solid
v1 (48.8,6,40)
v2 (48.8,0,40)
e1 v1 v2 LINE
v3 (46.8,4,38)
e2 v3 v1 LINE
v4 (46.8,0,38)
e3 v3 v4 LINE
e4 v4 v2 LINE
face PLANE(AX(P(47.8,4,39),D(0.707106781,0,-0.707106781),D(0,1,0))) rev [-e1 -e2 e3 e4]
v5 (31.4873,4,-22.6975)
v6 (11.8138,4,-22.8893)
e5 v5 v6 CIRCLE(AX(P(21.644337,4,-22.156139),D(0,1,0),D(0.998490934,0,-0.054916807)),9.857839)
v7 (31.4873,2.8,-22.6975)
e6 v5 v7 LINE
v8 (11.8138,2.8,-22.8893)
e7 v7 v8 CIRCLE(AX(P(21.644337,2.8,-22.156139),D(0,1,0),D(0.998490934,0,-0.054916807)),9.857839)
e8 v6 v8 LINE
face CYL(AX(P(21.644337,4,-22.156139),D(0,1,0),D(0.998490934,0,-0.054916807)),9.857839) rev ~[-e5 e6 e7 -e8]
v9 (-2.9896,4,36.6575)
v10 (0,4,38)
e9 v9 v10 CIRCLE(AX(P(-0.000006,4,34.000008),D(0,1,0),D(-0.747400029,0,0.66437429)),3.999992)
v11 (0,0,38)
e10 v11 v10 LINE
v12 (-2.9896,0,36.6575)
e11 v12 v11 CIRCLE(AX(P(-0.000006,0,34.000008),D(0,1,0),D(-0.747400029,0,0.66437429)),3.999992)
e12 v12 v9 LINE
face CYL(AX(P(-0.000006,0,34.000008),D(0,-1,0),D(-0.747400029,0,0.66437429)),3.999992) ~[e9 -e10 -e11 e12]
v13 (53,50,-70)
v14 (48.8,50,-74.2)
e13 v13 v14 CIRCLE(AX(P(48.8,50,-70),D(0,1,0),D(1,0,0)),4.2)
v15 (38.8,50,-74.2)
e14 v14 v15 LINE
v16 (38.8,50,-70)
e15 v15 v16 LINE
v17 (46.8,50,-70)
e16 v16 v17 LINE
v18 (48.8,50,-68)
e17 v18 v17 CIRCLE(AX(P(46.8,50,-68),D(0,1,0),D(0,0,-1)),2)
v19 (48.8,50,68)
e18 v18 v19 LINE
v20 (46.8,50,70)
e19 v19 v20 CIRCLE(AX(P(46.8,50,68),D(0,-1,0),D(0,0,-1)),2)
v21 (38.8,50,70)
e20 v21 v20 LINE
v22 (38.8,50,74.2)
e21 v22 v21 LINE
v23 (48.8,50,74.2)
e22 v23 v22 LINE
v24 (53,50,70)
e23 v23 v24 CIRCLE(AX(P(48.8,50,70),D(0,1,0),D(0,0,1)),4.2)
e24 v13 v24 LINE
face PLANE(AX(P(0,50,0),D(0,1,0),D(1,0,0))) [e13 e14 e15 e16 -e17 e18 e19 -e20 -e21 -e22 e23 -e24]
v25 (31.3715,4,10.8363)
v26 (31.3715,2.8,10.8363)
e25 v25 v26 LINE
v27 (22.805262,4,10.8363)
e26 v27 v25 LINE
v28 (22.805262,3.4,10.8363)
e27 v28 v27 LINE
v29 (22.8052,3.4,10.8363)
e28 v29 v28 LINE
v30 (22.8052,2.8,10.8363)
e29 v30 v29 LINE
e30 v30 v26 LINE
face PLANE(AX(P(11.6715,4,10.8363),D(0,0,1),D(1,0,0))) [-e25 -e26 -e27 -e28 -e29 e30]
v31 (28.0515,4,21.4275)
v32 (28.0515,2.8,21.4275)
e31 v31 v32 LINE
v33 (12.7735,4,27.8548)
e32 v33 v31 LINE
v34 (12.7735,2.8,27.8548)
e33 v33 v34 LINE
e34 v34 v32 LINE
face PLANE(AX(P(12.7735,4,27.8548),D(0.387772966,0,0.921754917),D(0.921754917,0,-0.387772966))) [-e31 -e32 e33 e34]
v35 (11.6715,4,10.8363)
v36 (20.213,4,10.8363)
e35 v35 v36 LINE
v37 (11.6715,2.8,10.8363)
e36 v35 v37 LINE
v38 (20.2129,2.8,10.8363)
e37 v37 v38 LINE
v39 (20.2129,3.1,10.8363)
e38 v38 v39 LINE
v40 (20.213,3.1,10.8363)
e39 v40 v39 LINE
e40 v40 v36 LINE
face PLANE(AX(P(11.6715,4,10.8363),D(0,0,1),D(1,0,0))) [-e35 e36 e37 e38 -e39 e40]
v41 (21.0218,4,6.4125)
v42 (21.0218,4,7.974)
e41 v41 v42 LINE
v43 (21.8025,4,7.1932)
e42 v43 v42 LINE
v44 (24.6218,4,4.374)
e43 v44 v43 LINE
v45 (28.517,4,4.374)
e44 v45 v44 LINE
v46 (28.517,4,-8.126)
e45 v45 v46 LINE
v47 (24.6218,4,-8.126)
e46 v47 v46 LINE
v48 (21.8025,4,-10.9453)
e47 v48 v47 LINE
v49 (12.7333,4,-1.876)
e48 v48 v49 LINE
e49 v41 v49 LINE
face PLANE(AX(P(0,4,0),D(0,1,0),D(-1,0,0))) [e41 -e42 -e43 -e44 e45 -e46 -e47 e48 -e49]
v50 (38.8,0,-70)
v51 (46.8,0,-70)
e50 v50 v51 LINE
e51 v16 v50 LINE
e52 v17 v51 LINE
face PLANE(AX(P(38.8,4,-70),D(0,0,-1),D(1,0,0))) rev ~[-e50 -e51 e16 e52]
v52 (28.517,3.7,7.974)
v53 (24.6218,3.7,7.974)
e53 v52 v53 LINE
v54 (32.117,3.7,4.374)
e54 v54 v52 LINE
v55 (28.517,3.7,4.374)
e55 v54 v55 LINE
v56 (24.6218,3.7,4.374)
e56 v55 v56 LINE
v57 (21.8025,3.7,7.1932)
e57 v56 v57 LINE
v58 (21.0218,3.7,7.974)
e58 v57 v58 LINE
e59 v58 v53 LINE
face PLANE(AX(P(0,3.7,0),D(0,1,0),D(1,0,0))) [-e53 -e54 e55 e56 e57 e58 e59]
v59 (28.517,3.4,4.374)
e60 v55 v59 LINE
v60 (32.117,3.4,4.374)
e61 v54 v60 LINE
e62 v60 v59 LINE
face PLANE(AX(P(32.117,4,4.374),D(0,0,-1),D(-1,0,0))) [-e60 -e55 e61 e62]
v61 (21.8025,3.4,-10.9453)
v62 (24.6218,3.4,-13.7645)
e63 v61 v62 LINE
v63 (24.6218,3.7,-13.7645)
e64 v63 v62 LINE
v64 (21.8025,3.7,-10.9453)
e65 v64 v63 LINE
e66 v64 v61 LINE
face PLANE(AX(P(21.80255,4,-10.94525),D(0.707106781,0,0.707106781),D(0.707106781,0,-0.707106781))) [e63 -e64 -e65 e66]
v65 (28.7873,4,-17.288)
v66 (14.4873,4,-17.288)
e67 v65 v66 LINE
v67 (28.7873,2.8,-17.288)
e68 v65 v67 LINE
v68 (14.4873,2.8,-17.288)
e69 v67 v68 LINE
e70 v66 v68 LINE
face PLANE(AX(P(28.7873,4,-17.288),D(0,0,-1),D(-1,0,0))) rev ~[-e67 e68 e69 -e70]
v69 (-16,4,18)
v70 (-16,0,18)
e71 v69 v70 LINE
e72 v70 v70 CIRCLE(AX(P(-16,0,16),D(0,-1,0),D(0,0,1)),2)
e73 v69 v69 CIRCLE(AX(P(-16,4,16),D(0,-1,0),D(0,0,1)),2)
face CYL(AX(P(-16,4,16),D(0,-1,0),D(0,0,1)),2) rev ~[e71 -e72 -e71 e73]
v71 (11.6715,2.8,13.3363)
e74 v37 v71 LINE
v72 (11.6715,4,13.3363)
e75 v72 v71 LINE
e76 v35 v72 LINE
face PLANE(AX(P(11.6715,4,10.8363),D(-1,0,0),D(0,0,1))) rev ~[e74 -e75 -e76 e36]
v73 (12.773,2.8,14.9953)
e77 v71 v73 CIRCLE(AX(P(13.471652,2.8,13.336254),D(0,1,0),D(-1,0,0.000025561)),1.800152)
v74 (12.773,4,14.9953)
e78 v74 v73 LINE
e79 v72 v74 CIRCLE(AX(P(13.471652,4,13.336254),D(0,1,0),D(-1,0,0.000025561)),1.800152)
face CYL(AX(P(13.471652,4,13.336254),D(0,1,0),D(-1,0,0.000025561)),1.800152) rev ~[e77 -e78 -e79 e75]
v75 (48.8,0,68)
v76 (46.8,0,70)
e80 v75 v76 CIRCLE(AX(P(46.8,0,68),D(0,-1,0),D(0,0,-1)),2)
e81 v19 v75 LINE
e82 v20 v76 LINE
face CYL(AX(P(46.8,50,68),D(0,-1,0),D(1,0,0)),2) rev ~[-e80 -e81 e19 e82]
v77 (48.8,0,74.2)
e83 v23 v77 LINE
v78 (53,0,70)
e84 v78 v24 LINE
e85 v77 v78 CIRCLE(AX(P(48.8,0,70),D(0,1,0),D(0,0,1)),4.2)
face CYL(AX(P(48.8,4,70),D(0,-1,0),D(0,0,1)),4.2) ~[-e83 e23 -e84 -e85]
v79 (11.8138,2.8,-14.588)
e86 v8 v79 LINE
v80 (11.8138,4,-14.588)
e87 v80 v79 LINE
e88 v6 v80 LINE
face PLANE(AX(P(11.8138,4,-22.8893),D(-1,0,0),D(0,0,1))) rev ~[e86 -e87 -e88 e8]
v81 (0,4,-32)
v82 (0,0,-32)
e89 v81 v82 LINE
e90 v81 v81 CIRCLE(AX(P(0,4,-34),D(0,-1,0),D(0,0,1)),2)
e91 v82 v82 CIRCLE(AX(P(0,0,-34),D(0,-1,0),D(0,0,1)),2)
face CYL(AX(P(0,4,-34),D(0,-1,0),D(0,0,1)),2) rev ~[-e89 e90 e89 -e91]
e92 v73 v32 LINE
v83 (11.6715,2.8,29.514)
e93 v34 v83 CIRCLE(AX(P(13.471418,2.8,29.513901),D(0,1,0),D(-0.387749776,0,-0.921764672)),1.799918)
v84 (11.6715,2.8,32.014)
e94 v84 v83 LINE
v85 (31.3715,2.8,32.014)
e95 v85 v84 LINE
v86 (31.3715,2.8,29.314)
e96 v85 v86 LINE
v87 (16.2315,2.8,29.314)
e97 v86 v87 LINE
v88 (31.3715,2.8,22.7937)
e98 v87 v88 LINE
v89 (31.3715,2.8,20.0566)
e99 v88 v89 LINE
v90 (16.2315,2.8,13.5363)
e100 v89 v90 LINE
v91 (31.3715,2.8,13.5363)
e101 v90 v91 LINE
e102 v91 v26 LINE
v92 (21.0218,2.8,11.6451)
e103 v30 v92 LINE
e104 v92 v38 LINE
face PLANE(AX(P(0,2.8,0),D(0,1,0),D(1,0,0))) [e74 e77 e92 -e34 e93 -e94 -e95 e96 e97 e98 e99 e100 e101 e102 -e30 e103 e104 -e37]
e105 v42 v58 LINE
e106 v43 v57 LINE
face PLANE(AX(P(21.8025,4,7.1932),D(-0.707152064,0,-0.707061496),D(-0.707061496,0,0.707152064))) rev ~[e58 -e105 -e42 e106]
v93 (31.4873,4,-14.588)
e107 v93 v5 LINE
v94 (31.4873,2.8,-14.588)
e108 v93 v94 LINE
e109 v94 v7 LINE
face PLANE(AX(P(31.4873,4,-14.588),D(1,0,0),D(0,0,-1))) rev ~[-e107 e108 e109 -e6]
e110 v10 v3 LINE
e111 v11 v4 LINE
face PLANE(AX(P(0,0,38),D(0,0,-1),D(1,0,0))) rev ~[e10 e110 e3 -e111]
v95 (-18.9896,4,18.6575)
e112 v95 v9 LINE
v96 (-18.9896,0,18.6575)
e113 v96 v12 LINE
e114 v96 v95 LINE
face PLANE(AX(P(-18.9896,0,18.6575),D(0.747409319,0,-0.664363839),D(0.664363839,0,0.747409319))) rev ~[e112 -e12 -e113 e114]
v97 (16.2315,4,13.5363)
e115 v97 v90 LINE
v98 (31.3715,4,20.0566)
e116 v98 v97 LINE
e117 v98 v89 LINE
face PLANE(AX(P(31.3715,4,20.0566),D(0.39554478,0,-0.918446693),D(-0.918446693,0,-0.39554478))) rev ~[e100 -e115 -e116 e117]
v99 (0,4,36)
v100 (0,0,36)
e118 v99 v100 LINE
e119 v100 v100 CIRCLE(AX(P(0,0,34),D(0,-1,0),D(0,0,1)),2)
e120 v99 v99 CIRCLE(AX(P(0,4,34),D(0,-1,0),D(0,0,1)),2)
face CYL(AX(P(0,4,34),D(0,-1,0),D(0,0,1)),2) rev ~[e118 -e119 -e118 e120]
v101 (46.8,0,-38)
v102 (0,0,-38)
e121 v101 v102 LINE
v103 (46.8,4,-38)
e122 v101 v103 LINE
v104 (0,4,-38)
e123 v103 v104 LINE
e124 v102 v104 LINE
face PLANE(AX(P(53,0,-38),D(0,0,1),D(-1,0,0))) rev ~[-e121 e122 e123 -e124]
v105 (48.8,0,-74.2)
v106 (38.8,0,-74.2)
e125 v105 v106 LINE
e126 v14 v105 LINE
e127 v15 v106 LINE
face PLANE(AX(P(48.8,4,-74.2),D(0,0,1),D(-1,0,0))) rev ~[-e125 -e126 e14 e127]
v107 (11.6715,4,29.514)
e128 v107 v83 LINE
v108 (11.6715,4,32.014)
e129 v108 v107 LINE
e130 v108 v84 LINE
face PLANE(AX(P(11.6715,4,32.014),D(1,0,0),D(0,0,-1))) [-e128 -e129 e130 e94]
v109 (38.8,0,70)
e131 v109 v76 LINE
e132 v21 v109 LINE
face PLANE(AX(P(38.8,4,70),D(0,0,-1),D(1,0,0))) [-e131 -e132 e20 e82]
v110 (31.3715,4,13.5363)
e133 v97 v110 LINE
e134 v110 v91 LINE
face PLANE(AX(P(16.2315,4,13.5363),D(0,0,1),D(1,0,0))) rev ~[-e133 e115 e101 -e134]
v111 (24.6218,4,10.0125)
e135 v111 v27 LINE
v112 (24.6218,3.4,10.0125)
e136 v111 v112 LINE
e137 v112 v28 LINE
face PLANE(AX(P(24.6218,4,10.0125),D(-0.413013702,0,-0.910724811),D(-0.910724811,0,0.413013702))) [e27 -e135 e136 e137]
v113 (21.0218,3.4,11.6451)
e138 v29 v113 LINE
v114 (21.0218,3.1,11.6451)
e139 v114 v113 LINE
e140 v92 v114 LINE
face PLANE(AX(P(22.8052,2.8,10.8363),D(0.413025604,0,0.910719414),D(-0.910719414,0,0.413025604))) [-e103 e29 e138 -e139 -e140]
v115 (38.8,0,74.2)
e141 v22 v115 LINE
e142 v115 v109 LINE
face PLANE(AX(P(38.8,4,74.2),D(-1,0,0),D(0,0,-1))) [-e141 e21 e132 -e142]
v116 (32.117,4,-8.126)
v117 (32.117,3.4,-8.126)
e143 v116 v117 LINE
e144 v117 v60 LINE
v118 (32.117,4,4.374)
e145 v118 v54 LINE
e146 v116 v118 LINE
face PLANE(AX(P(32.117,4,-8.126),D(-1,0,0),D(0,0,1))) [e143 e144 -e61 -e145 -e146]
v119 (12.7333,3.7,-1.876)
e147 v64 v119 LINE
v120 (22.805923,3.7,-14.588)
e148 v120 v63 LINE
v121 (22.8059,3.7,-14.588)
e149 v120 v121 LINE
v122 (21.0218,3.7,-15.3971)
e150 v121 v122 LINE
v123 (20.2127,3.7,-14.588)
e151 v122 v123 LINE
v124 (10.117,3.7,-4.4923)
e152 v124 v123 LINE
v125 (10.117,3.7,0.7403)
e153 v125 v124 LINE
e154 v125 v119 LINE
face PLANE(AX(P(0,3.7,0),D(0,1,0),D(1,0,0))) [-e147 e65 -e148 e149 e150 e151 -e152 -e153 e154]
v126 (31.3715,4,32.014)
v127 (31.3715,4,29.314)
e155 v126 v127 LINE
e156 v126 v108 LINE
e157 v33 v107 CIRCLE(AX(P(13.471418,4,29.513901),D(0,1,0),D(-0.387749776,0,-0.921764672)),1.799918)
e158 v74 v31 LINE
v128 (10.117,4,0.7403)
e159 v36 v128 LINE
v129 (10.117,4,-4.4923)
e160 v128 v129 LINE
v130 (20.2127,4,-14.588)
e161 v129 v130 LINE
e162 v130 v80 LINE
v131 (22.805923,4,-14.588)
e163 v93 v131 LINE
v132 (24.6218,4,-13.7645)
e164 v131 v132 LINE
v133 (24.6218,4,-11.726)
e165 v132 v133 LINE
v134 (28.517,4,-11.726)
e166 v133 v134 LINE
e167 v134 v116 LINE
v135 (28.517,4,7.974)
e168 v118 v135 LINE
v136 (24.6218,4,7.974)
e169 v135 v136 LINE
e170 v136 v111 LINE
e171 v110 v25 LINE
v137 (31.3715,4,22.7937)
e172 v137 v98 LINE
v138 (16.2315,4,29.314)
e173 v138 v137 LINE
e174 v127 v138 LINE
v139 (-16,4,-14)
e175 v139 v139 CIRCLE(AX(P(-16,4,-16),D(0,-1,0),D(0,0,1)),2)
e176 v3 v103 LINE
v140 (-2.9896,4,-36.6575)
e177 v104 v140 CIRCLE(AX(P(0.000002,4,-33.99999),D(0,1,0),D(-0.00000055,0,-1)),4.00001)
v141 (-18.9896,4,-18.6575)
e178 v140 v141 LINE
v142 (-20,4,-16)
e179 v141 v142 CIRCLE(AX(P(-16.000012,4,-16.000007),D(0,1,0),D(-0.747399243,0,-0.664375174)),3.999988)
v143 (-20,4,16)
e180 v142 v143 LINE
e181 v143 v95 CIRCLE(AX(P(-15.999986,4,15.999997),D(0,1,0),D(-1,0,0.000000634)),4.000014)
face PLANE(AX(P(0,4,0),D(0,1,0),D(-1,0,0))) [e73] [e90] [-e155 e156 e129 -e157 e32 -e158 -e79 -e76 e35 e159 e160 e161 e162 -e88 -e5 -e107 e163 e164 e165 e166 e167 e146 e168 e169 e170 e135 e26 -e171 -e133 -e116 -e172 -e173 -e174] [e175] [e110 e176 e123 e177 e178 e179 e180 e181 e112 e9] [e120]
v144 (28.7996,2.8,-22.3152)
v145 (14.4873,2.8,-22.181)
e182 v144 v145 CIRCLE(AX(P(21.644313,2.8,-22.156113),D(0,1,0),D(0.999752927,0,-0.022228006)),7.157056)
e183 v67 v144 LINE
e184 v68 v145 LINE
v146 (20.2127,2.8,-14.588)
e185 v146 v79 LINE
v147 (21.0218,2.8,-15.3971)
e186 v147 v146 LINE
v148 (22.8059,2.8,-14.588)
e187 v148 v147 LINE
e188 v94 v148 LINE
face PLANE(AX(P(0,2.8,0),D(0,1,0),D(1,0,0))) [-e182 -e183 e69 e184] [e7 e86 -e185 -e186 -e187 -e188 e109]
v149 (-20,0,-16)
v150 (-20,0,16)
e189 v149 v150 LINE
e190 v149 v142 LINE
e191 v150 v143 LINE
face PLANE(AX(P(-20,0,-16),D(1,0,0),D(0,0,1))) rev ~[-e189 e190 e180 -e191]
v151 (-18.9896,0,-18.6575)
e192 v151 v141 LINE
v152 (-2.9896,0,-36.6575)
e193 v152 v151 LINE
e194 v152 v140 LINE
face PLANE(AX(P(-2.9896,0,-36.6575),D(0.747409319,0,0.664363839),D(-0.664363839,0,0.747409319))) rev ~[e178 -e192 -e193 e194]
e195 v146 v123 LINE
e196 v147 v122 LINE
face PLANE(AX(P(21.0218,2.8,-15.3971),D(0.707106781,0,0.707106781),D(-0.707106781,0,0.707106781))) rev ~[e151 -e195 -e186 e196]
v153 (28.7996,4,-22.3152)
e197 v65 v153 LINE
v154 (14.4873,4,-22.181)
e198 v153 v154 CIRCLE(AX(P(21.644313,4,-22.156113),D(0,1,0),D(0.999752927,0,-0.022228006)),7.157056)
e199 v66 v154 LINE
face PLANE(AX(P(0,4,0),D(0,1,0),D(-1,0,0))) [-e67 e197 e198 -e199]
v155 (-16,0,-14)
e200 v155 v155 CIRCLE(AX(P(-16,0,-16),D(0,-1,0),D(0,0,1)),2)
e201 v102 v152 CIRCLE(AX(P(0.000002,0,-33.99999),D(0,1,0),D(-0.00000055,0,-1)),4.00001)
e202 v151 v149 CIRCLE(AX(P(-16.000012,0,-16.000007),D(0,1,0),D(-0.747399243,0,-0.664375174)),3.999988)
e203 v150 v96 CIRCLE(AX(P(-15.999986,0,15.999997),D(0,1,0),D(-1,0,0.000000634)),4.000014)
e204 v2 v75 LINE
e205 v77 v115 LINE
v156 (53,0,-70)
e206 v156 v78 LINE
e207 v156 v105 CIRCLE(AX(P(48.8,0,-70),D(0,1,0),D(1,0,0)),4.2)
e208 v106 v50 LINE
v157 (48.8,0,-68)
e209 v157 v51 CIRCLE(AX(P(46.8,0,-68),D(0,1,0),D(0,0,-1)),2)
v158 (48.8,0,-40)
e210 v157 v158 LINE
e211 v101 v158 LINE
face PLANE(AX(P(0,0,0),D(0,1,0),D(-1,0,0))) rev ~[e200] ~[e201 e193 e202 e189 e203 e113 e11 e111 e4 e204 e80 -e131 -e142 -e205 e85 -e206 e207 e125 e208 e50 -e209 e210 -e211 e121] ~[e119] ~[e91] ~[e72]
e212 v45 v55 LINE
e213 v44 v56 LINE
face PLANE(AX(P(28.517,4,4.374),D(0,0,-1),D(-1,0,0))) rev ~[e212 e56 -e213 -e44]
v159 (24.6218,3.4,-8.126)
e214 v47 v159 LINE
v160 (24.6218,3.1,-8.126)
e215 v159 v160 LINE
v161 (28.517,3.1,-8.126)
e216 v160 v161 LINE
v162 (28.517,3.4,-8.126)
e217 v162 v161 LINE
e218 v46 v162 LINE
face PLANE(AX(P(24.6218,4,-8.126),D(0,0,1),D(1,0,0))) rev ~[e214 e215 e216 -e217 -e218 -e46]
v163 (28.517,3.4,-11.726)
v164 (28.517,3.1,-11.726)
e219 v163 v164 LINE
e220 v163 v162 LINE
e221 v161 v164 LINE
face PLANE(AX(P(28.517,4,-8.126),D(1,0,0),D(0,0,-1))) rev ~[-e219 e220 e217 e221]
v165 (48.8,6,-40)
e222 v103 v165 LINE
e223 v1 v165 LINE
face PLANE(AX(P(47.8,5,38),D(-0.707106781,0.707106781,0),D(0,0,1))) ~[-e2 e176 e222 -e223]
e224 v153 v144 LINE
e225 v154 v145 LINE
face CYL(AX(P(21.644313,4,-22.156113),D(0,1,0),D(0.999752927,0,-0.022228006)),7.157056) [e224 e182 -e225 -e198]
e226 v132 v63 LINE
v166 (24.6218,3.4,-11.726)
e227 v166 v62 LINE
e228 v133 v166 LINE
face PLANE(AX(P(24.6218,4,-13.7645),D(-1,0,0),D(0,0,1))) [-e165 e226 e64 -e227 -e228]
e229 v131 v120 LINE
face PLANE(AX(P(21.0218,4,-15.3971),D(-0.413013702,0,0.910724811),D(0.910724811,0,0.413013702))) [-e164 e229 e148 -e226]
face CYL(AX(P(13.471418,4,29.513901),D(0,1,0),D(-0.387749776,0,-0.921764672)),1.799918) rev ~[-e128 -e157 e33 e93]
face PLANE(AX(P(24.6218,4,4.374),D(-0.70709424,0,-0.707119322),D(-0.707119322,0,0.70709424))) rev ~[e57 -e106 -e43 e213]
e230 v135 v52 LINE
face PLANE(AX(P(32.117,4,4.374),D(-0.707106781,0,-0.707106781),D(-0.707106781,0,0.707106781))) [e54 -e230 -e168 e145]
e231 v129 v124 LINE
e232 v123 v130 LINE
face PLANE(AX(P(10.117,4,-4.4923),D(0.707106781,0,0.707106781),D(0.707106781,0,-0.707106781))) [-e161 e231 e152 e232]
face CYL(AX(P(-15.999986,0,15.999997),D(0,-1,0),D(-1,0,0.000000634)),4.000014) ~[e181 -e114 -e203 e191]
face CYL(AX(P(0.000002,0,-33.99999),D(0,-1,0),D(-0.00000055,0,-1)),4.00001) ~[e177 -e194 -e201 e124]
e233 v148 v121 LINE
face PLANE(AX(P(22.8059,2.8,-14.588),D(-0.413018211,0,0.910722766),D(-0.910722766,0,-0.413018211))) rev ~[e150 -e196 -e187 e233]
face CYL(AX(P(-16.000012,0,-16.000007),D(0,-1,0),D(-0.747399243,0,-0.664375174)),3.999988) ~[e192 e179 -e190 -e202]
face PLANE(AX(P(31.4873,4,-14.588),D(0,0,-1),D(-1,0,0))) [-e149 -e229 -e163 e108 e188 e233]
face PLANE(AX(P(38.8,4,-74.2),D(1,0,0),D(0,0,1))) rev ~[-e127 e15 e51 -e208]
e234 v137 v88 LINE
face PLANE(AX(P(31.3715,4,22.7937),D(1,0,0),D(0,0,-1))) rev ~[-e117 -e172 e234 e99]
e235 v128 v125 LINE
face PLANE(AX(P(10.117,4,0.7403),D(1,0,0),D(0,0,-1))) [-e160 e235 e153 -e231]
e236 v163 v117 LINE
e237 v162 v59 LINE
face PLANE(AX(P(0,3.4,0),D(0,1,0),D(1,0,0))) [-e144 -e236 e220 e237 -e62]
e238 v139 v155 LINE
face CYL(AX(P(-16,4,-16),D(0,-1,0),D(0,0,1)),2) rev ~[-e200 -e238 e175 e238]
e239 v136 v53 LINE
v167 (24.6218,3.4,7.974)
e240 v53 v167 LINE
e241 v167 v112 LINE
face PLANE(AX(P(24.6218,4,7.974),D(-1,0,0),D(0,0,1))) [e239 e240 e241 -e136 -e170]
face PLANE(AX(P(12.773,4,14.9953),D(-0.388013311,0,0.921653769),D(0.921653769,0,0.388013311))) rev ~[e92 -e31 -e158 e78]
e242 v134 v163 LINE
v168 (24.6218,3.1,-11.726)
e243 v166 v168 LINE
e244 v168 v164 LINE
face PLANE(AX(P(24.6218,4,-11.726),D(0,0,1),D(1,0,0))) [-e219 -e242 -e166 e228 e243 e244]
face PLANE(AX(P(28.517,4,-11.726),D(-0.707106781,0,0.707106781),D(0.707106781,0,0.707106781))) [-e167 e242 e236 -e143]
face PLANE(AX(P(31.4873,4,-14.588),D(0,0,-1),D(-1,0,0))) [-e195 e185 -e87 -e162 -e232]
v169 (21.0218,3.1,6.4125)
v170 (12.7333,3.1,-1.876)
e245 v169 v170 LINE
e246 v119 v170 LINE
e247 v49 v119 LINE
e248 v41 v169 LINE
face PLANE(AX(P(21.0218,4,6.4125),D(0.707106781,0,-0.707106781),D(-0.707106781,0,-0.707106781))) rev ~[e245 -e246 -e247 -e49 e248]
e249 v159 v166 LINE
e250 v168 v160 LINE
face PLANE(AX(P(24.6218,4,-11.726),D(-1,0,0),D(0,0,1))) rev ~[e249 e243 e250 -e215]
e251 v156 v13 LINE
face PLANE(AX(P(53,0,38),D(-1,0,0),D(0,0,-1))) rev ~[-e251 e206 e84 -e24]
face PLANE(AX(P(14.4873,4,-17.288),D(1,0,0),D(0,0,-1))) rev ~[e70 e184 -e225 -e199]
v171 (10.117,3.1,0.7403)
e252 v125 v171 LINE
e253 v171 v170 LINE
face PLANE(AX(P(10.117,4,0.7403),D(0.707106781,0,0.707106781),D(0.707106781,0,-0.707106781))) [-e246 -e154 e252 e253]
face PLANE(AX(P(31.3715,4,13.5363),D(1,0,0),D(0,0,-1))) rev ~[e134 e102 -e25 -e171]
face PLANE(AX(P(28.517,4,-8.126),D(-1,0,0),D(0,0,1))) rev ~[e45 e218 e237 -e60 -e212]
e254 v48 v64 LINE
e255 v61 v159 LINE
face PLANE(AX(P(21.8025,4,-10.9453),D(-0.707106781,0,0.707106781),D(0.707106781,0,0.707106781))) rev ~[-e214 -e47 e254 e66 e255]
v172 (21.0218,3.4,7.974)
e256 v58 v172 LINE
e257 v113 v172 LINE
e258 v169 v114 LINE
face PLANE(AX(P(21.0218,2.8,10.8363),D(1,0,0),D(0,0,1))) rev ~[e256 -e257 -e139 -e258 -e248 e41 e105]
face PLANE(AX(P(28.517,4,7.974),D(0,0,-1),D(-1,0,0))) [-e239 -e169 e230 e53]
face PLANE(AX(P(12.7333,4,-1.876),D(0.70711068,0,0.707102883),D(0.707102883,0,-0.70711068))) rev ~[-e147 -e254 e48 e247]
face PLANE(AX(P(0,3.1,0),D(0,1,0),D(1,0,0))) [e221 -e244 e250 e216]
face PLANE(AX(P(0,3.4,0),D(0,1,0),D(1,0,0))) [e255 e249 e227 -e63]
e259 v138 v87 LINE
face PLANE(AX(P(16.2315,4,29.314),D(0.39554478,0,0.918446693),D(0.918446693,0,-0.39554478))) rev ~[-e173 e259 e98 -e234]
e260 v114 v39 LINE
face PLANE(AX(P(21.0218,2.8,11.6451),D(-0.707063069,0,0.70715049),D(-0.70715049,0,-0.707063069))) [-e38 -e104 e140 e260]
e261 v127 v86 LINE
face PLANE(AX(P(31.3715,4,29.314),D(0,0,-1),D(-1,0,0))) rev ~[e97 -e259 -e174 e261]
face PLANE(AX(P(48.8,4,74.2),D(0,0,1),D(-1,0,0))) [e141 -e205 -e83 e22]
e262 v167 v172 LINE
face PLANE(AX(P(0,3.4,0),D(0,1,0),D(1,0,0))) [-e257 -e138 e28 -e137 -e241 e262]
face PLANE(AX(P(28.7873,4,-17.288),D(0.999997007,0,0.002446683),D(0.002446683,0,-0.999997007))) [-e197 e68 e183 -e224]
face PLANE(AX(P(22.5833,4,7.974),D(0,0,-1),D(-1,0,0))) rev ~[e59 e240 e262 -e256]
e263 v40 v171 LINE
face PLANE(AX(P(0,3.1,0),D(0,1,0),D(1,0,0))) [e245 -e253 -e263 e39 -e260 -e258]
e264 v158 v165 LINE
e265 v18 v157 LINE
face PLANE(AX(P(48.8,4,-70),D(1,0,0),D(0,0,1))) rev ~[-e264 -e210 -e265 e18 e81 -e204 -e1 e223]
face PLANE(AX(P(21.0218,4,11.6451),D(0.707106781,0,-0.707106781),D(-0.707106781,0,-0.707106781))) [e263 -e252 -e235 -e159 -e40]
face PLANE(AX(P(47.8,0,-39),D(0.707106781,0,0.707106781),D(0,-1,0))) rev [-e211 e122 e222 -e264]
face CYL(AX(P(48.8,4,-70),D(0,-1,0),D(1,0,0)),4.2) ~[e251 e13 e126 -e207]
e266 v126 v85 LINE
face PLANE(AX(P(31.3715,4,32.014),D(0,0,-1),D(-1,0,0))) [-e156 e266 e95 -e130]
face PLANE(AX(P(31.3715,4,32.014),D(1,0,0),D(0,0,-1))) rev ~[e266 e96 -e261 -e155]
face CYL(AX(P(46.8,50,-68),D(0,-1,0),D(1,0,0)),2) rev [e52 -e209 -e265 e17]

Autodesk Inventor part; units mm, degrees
ref_plane "YZ Plane" through (0, 0, 0) normal (1, 0, 0) x (0, 1, 0)
ref_plane "XZ Plane" through (0, 0, 0) normal (0, 1, 0) x (-1, 0, 0)
ref_plane "XY Plane" through (0, 0, 0) normal (0, 0, 1) x (1, 0, 0)
sketch "Sketch1" plane through (0, 0, 0) normal (0, 1, 0) x (-1, 0, 0)
  line L0 (0, 34) -> (16, 16) construction
  line L1 (18.9896, 18.6575) -> (2.9896, 36.6575)
  arc A0 (2.9896, 36.6575) -> (0, 38) centre (0, 34) ccw
  arc A1 (20, 16) -> (18.9896, 18.6575) centre (16, 16) ccw
  line L2 (16, 16) -> (16, -16) construction
  line L3 (20, -16) -> (20, 16)
  line L4 (16, -16) -> (0, -34) construction
  line L5 (2.9896, -36.6575) -> (18.9896, -18.6575)
  line L6 (0, 34) -> (-44.6053, 34) construction
  line L7 (0, 38) -> (-53, 38)
  line L8 (0, -34) -> (-49, -34) construction
  line L9 (-53, -38) -> (0, -38)
  line L10 (-49, 30.0008) -> (-49, -29.9992) construction
  line L11 (-53, 38) -> (-53, -38)
  arc A2 (18.9896, -18.6575) -> (20, -16) centre (16, -16) ccw
  arc A3 (0, -38) -> (2.9896, -36.6575) centre (0, -34) ccw
  point P0 (0, 0)
  point P1 (8, 25)
  point P2 (16, 0)
  point P3 (8, -25)
  point P4 (-24.1053, 34)
  point P5 (-24.5, -34)
  point P6 (-49, 0.0008)
  dimension "d1" = 34
  dimension "d2" = 32
  dimension "d3" = 16
  dimension "d4" = 16
  dimension "d6" = 8
  dimension "d12" = 4
  dimension "d13" = 4
  dimension "d15" = 4
  dimension "d17" = 68
  dimension "d18" = 76
  dimension "d19" = 73
  dimension "d21" = 20
  dimension "d40" = 76
  dimension "d41" = 53
extrude "Extrusion1" add sketch "Sketch1" along normal blind 4
sketch "Sketch2" plane through (0, 4, 0) normal (0, 1, 0) x (1, 0, 0)
  line L0 (-20, 16) -> (-20, -16) projected
  point P0 (0, 0)
  point P1 (0, -34)
  point P2 (-16, 16)
  point P3 (-16, -16)
  point P4 (0, 34)
  dimension "d31" = 34
  dimension "d33" = 20
  dimension "d34" = 16
  dimension "d35" = 4
  dimension "d36" = 16
  dimension "d37" = 4
  dimension "d38" = 20
  dimension "d39" = 34
hole "Hole1" at (0, 4, 34) at (-16, 4, -16) at (-16, 4, 16) at (0, 4, -34) direction (0, -1, 0) diameter 4 end through all
sketch "Sketch3" plane through (0, 4, 0) normal (0, 1, 0) x (1, 0, 0)
  line L0 (53, -70) -> (53, 70)
  line L1 (48.8, 70) -> (48.8, -70)
  line L2 (53, -38) -> (53, 38) projected
  arc A0 (53, 70) -> (48.8, 74.2) centre (48.8, 70) ccw
  arc A1 (48.8, -74.2) -> (53, -70) centre (48.8, -70) ccw
  line L3 (48.8, 74.2) -> (38.8, 74.2)
  line L4 (38.8, 74.2) -> (38.8, 70)
  line L5 (38.8, 70) -> (48.8, 70)
  line L6 (48.8, -74.2) -> (38.8, -74.2)
  line L7 (38.8, -74.2) -> (38.8, -70)
  line L8 (38.8, -70) -> (48.8, -70)
  point P0 (0, 0)
  dimension "d42" = 140
  dimension "d43" = 4.2
  dimension "d52" = 70
  dimension "d53" = 10
  dimension "d54" = 10
extrude "Extrusion2" add sketch "Sketch3" along normal blind 46 and the other way blind 4
chamfer "Chamfer1" distance 2 angle 45 3 edges at (48.8, 4, 0) (48.8, 2, 38) (48.8, 2, -38)
fillet "Fillet1" radius 2 1 edges at (48.8, 25, 70)
fillet "Fillet2" radius 2 1 edges at (48.8, 25, -70)
sketch "Sketch9" plane through (0, 4, 0) normal (0, 1, 0) x (1, 0, 0)
  line L0 (21.0218, -11.6451) -> (10.117, -0.7403)
  line L1 (10.117, -0.7403) -> (10.117, 4.4923)
  line L2 (10.117, 4.4923) -> (21.0218, 15.3971)
  line L3 (21.0218, 15.3971) -> (24.6218, 13.7645)
  line L4 (24.6218, 13.7645) -> (24.6218, 11.726)
  line L5 (24.6218, 11.726) -> (28.517, 11.726)
  line L6 (28.517, 11.726) -> (32.117, 8.126)
  line L7 (32.117, 8.126) -> (32.117, -4.374)
  line L8 (32.117, -4.374) -> (28.517, -7.974)
  line L9 (28.517, -7.974) -> (24.6218, -7.974)
  line L10 (24.6218, -7.974) -> (24.6218, -10.0125)
  line L11 (24.6218, -10.0125) -> (21.0218, -11.6451)
  line L12 (28.517, -4.374) -> (24.6218, -4.374)
  line L13 (24.6218, -4.374) -> (21.8025, -7.1932)
  line L14 (21.8025, -7.1932) -> (12.7333, 1.876)
  line L15 (12.7333, 1.876) -> (21.8025, 10.9453)
  line L16 (21.8025, 10.9453) -> (24.6218, 8.126)
  line L17 (24.6218, 8.126) -> (28.517, 8.126)
  line L18 (28.517, 8.126) -> (28.517, -4.374)
  line L19 (10.117, -0.7403) -> (24.6218, 13.7645)
  line L20 (24.6218, -10.0125) -> (10.117, 4.4923)
  line L21 (21.8025, -7.1932) -> (21.8025, 10.9453)
  line L22 (21.0218, -11.6451) -> (21.0218, 15.3971)
  line L23 (24.6218, -7.974) -> (21.0218, -7.974)
  line L24 (21.8025, -7.1932) -> (21.0218, -7.974)
  line L25 (32.117, -4.374) -> (28.517, -4.374)
  line L26 (32.117, 8.126) -> (28.517, 8.126)
  line L27 (24.6218, 11.726) -> (24.6218, 8.126)
  line L28 (28.517, 8.126) -> (28.517, 11.726)
  line L29 (21.0218, -7.974) -> (24.6218, -7.974)
  line L30 (21.8025, -7.1932) -> (21.0218, -7.974)
  line L31 (21.0218, -11.6451) -> (21.0218, -7.974)
  line L32 (12.7333, 1.876) -> (10.117, -0.7403)
  line L33 (21.8025, 10.9453) -> (24.6218, 13.7645)
  line L34 (28.517, -4.374) -> (32.117, -4.374)
  line L35 (0, -38) -> (46.8, -38) projected
  point P0 (-70, 0)
  point P1 (21.0218, -6.4125)
  dimension "d467" = 3.7
  dimension "d468" = 3.7
  dimension "d469" = 12.5
  dimension "d470" = 3.6
  dimension "d471" = 3.6
  dimension "d472" = 2.0385
  dimension "d473" = 3.6
  dimension "d474" = 22
  dimension "d475" = 3.6
  dimension "d523" = 30.026
extrude "Extrusion16" cut sketch "Sketch9" against normal blind 0.6 contours L22 L23 L20 L11 | L20 L23 L10 | L19 L4 L27 L16 | L25 L18 L26 L7 | L26 L28 L6
extrude "Extrusion19" cut sketch "Sketch9" against normal blind 0.3 contours L1 L20 L19 | L24 L20 L23 | L2 L22 L15 L20 | L23 L20 L13 L12 L25 L8 L9 | L3 L19 L15 L22
sketch "Sketch10" plane through (0, 4, 0) normal (0, 1, 0) x (1, 0, 0)
  line L0 (31.4873, 14.588) -> (11.8138, 14.588)
  line L1 (31.4873, 14.588) -> (31.4873, 22.6975)
  line L2 (11.8138, 22.8893) -> (11.8138, 14.588)
  line L3 (28.7873, 17.288) -> (28.7996, 22.3152)
  line L4 (28.7873, 17.288) -> (14.4873, 17.288)
  line L5 (14.4873, 17.288) -> (14.4873, 22.181)
  arc A0 (31.4873, 22.6975) -> (11.8138, 22.8893) centre (21.6443, 22.1561) ccw
  arc A1 (28.7996, 22.3152) -> (14.4873, 22.181) centre (21.6443, 22.1561) ccw
  line L6 (0, -38) -> (46.8, -38) projected
  line L7 (46.8, 38) -> (0, 38) projected
  dimension "d493" = 7.157
  dimension "d494" = 9.8579
  dimension "d495" = 2.7
  dimension "d496" = 2.6736
  dimension "d497" = 5.0272
  dimension "d498" = 19.6735
  dimension "d499" = 8.3013
  dimension "d500" = 14.3
  dimension "d520" = 19.6735
  dimension "d521" = 4.8929
  dimension "d522" = 5.986
sketch "Sketch11" plane through (0, 4, 0) normal (0, 1, 0) x (1, 0, 0)
  line L0 (16.2315, -29.314) -> (31.3715, -22.7937)
  line L1 (31.3715, -22.7937) -> (31.3715, -20.0566)
  line L2 (31.3715, -20.0566) -> (16.2315, -13.5363)
  line L3 (16.2315, -13.5363) -> (12.1356, -13.5363)
  line L4 (16.2315, -13.5363) -> (31.3715, -13.5363)
  line L5 (11.6715, -10.8363) -> (11.6715, -13.3363)
  arc A0 (12.7735, -27.8548) -> (11.6715, -29.514) centre (13.4715, -29.514) ccw
  arc A1 (11.6715, -13.3363) -> (12.773, -14.9953) centre (13.4715, -13.3363) ccw
  line L6 (12.7735, -27.8548) -> (28.0515, -21.4275)
  line L7 (12.773, -14.9953) -> (28.0515, -21.4275)
  line L8 (31.3715, -32.014) -> (11.6715, -32.014)
  line L9 (11.6715, -32.014) -> (11.6715, -29.514)
  line L10 (11.6715, -10.8363) -> (31.3715, -10.8363)
  line L11 (31.3715, -13.5363) -> (31.3715, -10.8363)
  line L12 (31.3715, -29.314) -> (16.2315, -29.314)
  line L13 (31.3715, -32.014) -> (31.3715, -29.314)
  line L14 (0, -38) -> (46.8, -38) projected
  line L15 (-20, 16) -> (-20, -16) projected
  point P0 (12.0472, -15.3794)
  dimension "d501" = 1.8
  dimension "d502" = 1.8
  dimension "d503" = 2.5
  dimension "d504" = 2.5
  dimension "d505" = 19.7
  dimension "d506" = 1.102
  dimension "d507" = 1.1016
  dimension "d509" = 15.14
  dimension "d510" = 3.32
  dimension "d511" = 2.7
  dimension "d513" = 23.3
  dimension "d514" = 23.3
  dimension "d516" = 5.986
  dimension "d517" = 19.7
  dimension "d518" = 15.14
  dimension "d519" = 31.6715
extrude "Extrusion21" cut sketch "Sketch10" against normal blind 1.2
extrude "Extrusion22" cut sketch "Sketch11" against normal blind 1.2
extrude "Extrusion23" cut sketch "Sketch9" against normal blind 0.9 contours L0 L19 L14 L22 | L27 L5 L28 L17
sketch "Sketch12" plane through (0, 2.8, 0) normal (0, 1, 0) x (1, 0, 0)
  line L0 (21.0218, -10.8363) -> (20.2129, -10.8363) projected
  line L1 (24.6218, -10.0125) -> (22.8052, -10.8363) projected
  line L2 (20.2129, -10.8363) -> (22.8052, -10.8363)
  line L3 (22.8052, -10.8363) -> (21.0218, -11.6451)
  line L4 (21.0218, -11.6451) -> (20.2129, -10.8363)
  line L5 (21.0218, -10.8363) -> (21.0218, -7.974) projected
  line L6 (21.0218, -10.8363) -> (21.0218, -11.6451)
  line L7 (21.0218, -6.4125) -> (21.0218, -7.974) projected
  line L8 (31.4873, 14.588) -> (11.8138, 14.588) projected
  line L9 (20.2127, 14.588) -> (22.8059, 14.588)
  line L10 (21.0218, 15.3971) -> (20.2127, 14.588)
  line L11 (22.8059, 14.588) -> (21.0218, 15.3971)
  line L12 (10.117, 4.4923) -> (20.2127, 14.588) projected
  line L13 (22.8059, 14.588) -> (24.6218, 13.7645) projected
  point P0 (0, 0)
extrude "Extrusion24" add sketch "Sketch12" along normal blind 0.9 contours L8 L10 L11
extrude "Extrusion25" add sketch "Sketch12" along normal blind 0.3 contours L6 L4 L0
extrude "Extrusion26" add sketch "Sketch12" along normal blind 0.6 contours L2 L3 L6
properties part number "pare_choc_demo_reel"
